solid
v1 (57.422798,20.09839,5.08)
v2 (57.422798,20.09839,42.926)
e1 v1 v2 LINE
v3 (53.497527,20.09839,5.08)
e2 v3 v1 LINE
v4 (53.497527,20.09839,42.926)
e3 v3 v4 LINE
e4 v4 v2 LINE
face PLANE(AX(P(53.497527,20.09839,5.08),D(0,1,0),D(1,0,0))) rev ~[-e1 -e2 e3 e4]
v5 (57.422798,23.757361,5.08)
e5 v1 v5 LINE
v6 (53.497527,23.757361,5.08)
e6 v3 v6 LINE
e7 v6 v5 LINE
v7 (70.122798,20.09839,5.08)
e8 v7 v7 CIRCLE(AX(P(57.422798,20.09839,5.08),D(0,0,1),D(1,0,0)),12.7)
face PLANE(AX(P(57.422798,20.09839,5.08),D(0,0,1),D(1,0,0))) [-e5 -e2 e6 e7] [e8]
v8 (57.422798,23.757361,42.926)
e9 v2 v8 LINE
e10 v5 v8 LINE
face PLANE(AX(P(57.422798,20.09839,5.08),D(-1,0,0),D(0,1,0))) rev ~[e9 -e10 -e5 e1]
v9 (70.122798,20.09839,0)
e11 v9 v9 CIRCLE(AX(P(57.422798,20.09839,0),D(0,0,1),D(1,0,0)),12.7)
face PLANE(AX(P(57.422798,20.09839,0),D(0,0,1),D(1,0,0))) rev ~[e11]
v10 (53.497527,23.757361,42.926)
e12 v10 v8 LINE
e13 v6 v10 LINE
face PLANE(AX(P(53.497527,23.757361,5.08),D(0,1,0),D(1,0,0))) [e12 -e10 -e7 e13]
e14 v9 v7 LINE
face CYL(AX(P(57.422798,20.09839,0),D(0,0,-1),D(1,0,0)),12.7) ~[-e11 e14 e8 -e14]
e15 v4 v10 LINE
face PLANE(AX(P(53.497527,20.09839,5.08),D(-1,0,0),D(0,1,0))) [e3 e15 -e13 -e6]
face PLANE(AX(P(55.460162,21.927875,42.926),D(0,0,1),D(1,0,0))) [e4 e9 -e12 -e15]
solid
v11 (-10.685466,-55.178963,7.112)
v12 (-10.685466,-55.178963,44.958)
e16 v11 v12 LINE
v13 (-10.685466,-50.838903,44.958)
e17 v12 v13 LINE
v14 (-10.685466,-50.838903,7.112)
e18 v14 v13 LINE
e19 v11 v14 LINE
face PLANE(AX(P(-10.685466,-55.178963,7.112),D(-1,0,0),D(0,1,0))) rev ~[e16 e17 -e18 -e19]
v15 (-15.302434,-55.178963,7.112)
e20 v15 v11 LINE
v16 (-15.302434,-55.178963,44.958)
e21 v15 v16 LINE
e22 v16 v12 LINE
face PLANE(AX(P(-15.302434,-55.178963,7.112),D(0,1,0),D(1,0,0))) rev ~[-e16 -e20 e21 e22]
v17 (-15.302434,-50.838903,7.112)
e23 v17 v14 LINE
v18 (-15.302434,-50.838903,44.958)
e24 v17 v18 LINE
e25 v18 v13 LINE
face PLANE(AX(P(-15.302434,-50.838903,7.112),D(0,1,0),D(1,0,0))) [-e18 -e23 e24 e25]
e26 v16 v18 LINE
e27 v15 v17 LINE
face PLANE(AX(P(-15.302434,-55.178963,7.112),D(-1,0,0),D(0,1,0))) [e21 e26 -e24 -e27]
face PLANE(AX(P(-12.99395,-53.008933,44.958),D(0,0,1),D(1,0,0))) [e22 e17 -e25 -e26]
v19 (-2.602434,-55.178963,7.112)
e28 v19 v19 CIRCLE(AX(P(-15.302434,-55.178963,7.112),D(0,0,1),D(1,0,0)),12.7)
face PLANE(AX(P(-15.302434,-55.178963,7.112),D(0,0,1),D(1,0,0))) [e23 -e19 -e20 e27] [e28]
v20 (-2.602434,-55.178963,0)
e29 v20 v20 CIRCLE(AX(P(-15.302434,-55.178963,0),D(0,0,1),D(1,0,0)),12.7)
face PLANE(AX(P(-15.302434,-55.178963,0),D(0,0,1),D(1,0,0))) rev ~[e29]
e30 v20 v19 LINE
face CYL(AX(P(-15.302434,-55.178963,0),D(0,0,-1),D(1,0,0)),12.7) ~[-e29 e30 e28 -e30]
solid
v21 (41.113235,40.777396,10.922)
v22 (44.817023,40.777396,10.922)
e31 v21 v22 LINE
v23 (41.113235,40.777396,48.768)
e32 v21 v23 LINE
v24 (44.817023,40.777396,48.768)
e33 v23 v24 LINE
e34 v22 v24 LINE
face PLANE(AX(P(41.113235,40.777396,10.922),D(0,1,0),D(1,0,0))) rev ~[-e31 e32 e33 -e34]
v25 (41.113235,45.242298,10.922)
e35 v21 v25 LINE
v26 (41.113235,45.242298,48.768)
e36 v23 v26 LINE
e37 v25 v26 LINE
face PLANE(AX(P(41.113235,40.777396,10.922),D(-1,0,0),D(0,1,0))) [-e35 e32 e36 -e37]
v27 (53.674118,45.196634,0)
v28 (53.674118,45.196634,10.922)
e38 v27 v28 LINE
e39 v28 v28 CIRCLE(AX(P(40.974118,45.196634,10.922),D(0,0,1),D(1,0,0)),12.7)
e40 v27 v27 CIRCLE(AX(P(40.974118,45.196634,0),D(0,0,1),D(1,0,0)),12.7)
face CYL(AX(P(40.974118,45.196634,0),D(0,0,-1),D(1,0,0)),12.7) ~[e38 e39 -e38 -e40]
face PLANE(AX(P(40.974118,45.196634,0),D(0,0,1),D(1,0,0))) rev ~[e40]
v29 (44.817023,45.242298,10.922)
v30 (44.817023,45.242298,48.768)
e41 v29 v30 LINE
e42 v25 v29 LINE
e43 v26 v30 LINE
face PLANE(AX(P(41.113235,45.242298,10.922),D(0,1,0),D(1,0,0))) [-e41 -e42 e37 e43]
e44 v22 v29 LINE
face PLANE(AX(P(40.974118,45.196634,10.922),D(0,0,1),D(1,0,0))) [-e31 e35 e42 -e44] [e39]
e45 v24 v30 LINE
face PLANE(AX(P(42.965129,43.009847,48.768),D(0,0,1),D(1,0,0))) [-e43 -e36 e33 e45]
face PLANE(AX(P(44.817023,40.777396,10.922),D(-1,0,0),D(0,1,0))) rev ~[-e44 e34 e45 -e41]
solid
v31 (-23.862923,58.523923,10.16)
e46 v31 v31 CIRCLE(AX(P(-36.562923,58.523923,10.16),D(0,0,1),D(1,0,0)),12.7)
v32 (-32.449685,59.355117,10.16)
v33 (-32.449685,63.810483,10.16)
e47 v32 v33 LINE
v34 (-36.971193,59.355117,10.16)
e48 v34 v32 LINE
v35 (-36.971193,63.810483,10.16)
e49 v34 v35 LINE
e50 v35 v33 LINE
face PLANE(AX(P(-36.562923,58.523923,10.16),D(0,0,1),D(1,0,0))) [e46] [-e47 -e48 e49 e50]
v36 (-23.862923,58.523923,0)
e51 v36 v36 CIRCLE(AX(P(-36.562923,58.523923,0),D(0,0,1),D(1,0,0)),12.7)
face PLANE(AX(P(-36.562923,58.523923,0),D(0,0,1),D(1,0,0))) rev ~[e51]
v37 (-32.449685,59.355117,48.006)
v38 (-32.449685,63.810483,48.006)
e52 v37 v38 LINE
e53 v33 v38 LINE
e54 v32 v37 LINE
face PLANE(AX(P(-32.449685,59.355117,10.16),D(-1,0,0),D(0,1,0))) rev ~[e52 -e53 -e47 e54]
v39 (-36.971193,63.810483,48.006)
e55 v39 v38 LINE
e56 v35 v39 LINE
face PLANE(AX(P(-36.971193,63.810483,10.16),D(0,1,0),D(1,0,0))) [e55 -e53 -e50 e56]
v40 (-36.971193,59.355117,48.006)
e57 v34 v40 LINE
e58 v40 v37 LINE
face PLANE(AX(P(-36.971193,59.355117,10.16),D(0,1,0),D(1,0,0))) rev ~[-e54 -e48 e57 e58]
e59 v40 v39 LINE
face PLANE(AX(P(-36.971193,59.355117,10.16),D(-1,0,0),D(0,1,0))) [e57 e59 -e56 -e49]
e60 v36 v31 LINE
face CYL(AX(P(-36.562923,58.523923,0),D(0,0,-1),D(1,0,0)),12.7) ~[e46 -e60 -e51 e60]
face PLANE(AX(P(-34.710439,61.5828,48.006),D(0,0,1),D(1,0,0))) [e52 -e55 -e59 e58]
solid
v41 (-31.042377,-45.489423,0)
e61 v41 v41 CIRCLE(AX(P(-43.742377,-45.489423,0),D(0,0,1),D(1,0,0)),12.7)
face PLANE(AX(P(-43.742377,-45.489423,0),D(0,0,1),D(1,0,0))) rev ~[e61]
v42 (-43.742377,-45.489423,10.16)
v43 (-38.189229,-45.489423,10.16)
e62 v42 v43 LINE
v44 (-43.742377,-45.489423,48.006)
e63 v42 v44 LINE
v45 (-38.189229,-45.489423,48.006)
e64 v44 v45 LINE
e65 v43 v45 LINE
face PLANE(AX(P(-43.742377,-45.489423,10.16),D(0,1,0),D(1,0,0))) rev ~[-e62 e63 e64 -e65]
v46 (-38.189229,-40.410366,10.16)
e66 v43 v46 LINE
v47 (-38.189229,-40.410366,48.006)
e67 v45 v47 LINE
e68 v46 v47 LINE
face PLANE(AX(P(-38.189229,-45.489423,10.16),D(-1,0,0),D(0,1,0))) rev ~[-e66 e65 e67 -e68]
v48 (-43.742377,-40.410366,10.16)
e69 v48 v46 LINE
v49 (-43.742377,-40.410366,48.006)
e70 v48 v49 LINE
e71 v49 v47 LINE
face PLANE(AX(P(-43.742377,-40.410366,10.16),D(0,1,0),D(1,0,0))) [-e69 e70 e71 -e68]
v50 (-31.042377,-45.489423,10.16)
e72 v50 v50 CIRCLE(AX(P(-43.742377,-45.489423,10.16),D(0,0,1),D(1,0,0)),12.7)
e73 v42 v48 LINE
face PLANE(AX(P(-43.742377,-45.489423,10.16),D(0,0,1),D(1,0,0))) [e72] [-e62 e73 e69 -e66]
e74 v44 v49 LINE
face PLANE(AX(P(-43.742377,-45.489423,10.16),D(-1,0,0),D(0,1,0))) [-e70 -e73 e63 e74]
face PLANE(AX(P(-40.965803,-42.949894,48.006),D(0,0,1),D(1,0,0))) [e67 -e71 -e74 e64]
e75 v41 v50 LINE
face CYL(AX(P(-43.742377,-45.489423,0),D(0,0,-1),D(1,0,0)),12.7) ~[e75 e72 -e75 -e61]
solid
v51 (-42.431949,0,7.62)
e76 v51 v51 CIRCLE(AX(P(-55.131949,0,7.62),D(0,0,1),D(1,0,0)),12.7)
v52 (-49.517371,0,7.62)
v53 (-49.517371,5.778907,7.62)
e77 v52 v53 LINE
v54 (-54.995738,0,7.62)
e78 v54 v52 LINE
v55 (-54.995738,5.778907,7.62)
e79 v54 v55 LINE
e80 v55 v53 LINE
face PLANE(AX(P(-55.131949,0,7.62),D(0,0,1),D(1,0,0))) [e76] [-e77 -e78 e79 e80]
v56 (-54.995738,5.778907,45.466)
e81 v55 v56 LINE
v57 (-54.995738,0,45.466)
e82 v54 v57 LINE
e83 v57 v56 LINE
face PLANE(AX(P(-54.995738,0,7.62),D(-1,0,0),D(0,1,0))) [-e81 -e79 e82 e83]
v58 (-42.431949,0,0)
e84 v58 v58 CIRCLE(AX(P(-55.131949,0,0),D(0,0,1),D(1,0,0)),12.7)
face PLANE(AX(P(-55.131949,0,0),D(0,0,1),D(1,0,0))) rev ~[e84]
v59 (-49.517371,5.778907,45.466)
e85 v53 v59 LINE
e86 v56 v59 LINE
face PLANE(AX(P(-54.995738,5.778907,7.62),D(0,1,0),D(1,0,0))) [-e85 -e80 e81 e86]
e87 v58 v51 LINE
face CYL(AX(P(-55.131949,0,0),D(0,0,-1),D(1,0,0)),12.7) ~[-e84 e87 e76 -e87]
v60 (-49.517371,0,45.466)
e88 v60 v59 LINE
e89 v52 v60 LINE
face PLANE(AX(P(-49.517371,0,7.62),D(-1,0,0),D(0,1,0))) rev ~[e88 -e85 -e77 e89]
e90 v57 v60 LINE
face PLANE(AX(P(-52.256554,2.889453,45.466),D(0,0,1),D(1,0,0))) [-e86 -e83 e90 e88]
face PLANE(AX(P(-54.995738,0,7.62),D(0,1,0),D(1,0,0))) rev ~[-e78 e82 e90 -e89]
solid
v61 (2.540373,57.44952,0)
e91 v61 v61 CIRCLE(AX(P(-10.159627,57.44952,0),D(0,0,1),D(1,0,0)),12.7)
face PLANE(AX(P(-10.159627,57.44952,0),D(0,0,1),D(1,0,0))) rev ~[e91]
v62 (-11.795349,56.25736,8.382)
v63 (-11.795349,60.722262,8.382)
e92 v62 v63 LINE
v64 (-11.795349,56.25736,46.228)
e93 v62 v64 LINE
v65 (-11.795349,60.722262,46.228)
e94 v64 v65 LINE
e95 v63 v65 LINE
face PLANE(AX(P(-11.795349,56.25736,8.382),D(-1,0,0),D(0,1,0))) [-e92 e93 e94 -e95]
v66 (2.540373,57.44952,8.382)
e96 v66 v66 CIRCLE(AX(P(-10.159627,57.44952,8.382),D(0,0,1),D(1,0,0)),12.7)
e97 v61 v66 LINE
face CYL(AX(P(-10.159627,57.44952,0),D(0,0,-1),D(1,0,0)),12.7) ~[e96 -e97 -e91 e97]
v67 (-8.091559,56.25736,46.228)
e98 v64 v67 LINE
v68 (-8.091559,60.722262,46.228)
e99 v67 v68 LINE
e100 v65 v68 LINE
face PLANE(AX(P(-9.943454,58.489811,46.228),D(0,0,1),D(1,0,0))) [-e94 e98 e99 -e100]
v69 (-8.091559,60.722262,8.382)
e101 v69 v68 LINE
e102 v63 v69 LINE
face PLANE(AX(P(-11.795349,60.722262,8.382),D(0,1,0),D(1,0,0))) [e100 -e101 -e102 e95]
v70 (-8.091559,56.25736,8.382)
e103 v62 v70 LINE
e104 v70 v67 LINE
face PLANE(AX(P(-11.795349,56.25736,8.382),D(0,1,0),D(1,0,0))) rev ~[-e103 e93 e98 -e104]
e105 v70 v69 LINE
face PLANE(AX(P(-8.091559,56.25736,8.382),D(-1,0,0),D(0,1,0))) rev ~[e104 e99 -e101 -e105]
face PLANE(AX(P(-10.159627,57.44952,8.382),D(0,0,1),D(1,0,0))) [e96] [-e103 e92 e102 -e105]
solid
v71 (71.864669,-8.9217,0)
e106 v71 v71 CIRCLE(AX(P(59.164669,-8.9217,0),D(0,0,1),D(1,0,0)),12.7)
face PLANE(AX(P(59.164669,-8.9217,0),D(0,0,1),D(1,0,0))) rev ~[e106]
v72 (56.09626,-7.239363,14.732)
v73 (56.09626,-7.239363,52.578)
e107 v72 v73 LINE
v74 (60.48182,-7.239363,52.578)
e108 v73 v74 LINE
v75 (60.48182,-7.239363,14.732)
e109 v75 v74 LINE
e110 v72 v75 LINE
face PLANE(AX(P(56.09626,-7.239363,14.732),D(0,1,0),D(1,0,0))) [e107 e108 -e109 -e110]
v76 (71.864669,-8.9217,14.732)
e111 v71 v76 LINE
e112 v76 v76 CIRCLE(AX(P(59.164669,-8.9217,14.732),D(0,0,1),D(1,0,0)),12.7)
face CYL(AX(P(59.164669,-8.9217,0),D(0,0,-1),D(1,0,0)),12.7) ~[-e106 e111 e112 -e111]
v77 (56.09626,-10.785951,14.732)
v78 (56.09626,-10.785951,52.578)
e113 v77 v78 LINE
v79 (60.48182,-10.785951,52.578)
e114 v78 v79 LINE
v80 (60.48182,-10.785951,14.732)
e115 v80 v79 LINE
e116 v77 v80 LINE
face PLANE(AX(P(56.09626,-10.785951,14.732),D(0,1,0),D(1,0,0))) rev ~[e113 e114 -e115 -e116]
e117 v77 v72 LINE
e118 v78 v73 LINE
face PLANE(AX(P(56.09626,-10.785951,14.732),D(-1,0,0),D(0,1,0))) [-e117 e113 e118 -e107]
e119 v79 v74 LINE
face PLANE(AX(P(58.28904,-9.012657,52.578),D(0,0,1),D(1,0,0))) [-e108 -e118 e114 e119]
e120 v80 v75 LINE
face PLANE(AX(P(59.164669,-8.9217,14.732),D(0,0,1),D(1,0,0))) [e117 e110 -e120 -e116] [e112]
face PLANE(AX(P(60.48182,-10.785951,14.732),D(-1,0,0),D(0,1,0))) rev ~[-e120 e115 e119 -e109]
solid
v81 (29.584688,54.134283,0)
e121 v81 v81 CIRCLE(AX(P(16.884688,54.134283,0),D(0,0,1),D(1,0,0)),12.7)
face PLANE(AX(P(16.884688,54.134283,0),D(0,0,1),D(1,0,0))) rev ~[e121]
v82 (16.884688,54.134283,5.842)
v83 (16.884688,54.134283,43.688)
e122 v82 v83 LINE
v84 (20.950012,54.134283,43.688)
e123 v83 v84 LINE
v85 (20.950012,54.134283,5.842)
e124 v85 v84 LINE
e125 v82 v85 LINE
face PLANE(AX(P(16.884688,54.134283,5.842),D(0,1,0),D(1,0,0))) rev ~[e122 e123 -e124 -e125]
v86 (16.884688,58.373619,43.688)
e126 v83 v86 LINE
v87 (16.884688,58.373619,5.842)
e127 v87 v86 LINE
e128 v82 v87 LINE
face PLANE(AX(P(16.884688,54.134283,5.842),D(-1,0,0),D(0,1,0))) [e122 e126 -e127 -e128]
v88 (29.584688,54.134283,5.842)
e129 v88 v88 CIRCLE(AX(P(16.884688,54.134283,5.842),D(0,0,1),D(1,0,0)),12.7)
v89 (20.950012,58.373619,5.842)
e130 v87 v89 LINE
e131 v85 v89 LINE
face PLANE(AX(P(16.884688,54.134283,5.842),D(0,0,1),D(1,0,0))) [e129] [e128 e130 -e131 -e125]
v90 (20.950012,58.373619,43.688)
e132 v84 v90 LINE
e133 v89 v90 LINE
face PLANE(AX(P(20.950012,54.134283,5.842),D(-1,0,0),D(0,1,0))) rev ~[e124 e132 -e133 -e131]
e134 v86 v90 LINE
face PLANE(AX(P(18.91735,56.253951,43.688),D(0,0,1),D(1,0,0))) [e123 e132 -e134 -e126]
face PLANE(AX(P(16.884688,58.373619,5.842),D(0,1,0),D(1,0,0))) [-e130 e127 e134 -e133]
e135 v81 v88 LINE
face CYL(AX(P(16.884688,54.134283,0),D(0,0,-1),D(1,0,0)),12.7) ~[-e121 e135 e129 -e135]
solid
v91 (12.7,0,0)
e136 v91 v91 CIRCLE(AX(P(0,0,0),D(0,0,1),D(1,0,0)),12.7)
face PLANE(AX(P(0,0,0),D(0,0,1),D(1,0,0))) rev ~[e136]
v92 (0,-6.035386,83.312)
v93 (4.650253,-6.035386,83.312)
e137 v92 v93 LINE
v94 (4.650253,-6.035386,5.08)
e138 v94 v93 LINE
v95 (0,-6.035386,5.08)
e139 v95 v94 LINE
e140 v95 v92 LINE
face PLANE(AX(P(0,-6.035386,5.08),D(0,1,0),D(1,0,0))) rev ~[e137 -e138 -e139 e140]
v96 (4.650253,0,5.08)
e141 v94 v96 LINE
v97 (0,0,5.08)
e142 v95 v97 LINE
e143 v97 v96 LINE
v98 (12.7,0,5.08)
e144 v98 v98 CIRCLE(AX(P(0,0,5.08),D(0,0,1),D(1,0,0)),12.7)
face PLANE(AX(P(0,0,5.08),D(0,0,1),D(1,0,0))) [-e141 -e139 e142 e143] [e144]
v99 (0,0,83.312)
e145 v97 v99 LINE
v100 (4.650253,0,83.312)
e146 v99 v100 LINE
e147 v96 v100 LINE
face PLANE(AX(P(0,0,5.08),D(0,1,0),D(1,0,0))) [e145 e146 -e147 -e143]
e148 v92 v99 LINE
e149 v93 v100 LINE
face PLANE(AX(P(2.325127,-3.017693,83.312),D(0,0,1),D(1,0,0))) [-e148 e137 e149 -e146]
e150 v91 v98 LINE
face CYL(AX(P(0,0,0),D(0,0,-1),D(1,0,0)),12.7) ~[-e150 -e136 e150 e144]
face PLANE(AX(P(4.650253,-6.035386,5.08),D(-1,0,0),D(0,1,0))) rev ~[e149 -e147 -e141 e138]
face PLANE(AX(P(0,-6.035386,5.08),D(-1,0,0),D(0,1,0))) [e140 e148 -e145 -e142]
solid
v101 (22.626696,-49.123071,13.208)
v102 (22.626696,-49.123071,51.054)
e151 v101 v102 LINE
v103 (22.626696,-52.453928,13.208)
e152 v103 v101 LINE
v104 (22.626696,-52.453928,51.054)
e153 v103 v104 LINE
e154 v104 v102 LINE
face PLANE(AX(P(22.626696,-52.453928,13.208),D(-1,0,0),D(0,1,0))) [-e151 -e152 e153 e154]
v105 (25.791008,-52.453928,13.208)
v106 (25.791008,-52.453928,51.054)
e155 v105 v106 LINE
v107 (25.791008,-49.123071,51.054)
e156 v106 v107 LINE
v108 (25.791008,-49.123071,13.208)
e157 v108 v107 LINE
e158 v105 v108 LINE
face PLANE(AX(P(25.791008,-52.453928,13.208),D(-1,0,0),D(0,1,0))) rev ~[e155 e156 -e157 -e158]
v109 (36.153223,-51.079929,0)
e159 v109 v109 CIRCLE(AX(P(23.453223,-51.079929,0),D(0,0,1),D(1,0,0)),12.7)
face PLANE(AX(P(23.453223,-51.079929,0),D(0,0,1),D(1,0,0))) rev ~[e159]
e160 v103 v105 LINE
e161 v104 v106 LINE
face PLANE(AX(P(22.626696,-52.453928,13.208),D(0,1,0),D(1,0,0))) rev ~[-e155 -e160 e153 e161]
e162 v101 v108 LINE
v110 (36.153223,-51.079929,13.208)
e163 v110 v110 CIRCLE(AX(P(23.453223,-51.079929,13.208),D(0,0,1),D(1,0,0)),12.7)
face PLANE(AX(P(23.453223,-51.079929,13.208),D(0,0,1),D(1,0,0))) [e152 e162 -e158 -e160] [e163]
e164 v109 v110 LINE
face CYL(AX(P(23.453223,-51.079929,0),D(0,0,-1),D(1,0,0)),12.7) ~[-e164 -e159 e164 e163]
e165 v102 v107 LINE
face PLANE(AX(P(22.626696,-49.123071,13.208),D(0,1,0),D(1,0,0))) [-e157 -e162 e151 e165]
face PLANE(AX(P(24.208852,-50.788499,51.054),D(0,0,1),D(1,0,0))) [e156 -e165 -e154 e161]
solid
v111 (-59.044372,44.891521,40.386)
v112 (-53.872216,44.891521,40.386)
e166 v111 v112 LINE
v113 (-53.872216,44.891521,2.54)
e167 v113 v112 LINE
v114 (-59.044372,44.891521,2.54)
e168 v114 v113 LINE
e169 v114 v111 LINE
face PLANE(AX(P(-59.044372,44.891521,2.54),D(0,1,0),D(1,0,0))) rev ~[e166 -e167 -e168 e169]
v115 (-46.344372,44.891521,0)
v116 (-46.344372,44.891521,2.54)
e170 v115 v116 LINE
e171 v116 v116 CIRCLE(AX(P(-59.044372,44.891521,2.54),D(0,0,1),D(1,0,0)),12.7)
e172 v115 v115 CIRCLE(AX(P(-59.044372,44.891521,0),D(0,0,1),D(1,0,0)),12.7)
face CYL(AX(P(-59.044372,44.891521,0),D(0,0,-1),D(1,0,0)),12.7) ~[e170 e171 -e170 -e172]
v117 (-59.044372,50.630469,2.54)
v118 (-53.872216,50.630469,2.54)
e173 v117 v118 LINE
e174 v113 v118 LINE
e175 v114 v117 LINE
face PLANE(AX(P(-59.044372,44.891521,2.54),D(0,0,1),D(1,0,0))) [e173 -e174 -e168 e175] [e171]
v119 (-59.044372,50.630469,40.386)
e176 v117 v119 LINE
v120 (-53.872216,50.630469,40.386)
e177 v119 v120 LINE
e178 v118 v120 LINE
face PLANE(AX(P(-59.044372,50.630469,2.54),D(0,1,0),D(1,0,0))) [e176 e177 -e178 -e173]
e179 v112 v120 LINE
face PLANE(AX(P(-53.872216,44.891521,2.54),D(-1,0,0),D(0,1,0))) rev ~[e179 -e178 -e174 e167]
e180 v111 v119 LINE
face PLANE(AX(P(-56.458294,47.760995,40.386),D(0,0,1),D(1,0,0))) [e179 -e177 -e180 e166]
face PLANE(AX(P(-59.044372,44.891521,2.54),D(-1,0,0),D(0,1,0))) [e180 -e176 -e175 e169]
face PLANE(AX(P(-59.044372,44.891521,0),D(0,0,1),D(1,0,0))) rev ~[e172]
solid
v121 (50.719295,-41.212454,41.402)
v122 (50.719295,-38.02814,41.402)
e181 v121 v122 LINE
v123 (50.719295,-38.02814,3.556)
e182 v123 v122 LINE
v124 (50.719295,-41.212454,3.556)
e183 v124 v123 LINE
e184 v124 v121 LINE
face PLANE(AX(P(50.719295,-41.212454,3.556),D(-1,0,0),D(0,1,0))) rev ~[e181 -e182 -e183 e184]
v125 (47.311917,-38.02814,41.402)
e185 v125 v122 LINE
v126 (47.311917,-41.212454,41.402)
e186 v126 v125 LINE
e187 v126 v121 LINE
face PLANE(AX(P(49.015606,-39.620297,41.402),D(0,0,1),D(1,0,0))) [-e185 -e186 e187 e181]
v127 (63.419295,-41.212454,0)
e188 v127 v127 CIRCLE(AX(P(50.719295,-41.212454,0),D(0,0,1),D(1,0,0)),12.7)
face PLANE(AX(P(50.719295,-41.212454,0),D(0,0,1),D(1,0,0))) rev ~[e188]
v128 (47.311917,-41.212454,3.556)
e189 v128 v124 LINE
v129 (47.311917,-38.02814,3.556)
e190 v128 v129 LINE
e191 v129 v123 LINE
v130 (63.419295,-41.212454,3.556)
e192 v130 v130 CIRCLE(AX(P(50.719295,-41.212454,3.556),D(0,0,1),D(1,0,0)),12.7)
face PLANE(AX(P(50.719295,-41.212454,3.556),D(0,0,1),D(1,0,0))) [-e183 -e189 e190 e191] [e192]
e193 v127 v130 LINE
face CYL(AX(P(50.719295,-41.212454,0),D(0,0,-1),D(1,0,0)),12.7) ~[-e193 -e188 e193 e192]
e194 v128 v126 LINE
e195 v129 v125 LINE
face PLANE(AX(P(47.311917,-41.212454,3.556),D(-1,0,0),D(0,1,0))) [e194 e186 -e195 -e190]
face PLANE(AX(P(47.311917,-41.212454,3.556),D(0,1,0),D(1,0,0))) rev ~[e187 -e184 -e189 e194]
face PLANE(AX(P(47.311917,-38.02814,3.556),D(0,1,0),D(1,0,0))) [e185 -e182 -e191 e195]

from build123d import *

# Parameters (mm, degrees)
F1_R      = 12.7
F2_DEPTH  = 5.08
F3_R      = 12.7
F4_DEPTH  = 7.62
F5_R      = 12.7
F6_DEPTH  = 10.16
F7_R      = 12.7
F8_DEPTH  = 2.54
F9_R      = 12.7
F10_DEPTH = 10.16
F11_R     = 12.7
F12_DEPTH = 8.382
F13_R     = 12.7
F14_DEPTH = 5.842
F15_R     = 12.7
F16_DEPTH = 10.922
F17_R     = 12.7
F18_DEPTH = 5.08
F19_R     = 12.7
F20_DEPTH = 14.732
F21_R     = 12.7
F22_DEPTH = 3.556
F23_R     = 12.7
F24_DEPTH = 13.208
F25_R     = 12.7
F26_DEPTH = 7.112
F28_W     = 4.6502533369
F28_H     = 6.035386119
F29_DEPTH = 78.232
F30_W     = 5.5531486869
F30_H     = 5.0790570676
F31_DEPTH = 37.846
F33_W     = 5.4783672094
F33_H     = 5.7789068669
F34_DEPTH = 37.846
F35_W     = 5.1721557975
F35_H     = 5.7389475405
F36_DEPTH = 37.846
F37_W     = 4.5215077698
F37_H     = 4.4553652406
F38_DEPTH = 37.846
F39_W     = 3.7037907168
F39_H     = 4.4649019837
F40_DEPTH = 37.846
F41_W     = 4.065323621
F41_H     = 4.2393356562
F42_DEPTH = 37.846
F43_W     = 3.7037879229
F43_H     = 4.4649019837
F44_DEPTH = 37.846
F45_W     = 3.9252713323
F45_H     = 3.6589708179
F46_DEPTH = 37.846
F47_W     = 4.385560751
F47_H     = 3.5465881228
F48_DEPTH = 37.846
F49_W     = 3.4073777497
F49_H     = 3.1843148172
F50_DEPTH = 37.846
F51_W     = 3.1643118709
F51_H     = 3.3308565617
F52_DEPTH = 37.846
F53_W     = 4.6169674024
F53_H     = 4.3400600553
F54_DEPTH = 37.846


with BuildPart() as f2:
    # F1 (on face) → F2 (new body)
    with BuildSketch(Plane.XY):
        Circle(F1_R)
    extrude(amount=F2_DEPTH)

    # F28 (on face) → F29 (join)
    with BuildSketch(Plane.XY.offset(5.08)):
        with Locations((2.3251266684, -3.0176930595)):
            Rectangle(F28_W, F28_H)
    extrude(amount=F29_DEPTH)


with BuildPart() as f4:
    # F3 (on Top) → F4 (new body)
    with BuildSketch(Plane.XY):
        with Locations((-55.1319494843, 0)):
            Circle(F3_R)
    extrude(amount=F4_DEPTH)

    # F33 (on face) → F34 (join)
    with BuildSketch(Plane.XY.offset(7.62)):
        with Locations((-52.2565543652, 2.8894534335)):
            Rectangle(F33_W, F33_H)
    extrude(amount=F34_DEPTH)


with BuildPart() as f6:
    # F5 (on Top) → F6 (new body)
    with BuildSketch(Plane.XY):
        with Locations((-43.742377311, -45.489422977)):
            Circle(F5_R)
    extrude(amount=F6_DEPTH)

    # F30 (on face) → F31 (join)
    with BuildSketch(Plane.XY.offset(10.16)):
        with Locations((-40.9658029675, -42.9498944432)):
            Rectangle(F30_W, F30_H)
    extrude(amount=F31_DEPTH)


with BuildPart() as f8:
    # F7 (on Top) → F8 (new body)
    with BuildSketch(Plane.XY):
        with Locations((-59.0443722904, 44.8915213346)):
            Circle(F7_R)
    extrude(amount=F8_DEPTH)

    # F35 (on face) → F36 (join)
    with BuildSketch(Plane.XY.offset(2.54)):
        with Locations((-56.4582943916, 47.7609951049)):
            Rectangle(F35_W, F35_H)
    extrude(amount=F36_DEPTH)


with BuildPart() as f10:
    # F9 (on Top) → F10 (new body)
    with BuildSketch(Plane.XY):
        with Locations((-36.562923342, 58.5239231586)):
            Circle(F9_R)
    extrude(amount=F10_DEPTH)

    # F37 (on face) → F38 (join)
    with BuildSketch(Plane.XY.offset(10.16)):
        with Locations((-34.710438922, 61.5828000009)):
            Rectangle(F37_W, F37_H)
    extrude(amount=F38_DEPTH)


with BuildPart() as f12:
    # F11 (on Top) → F12 (new body)
    with BuildSketch(Plane.XY):
        with Locations((-10.1596266031, 57.4495196342)):
            Circle(F11_R)
    extrude(amount=F12_DEPTH)

    # F39 (on face) → F40 (join)
    with BuildSketch(Plane.XY.offset(8.382)):
        with Locations((-9.9434540607, 58.4898106754)):
            Rectangle(F39_W, F39_H)
    extrude(amount=F40_DEPTH)


with BuildPart() as f14:
    # F13 (on Top) → F14 (new body)
    with BuildSketch(Plane.XY):
        with Locations((16.884688288, 54.1342832148)):
            Circle(F13_R)
    extrude(amount=F14_DEPTH)

    # F41 (on face) → F42 (join)
    with BuildSketch(Plane.XY.offset(5.842)):
        with Locations((18.9173500985, 56.2539510429)):
            Rectangle(F41_W, F41_H)
    extrude(amount=F42_DEPTH)


with BuildPart() as f16:
    # F15 (on Top) → F16 (new body)
    with BuildSketch(Plane.XY):
        with Locations((40.9741178155, 45.196633786)):
            Circle(F15_R)
    extrude(amount=F16_DEPTH)

    # F43 (on face) → F44 (join)
    with BuildSketch(Plane.XY.offset(10.922)):
        with Locations((42.9651290178, 43.0098474026)):
            Rectangle(F43_W, F43_H)
    extrude(amount=F44_DEPTH)


with BuildPart() as f18:
    # F17 (on Top) → F18 (new body)
    with BuildSketch(Plane.XY):
        with Locations((57.4227981269, 20.0983900577)):
            Circle(F17_R)
    extrude(amount=F18_DEPTH)

    # F45 (on face) → F46 (join)
    with BuildSketch(Plane.XY.offset(5.08)):
        with Locations((55.4601624608, 21.9278754666)):
            Rectangle(F45_W, F45_H)
    extrude(amount=F46_DEPTH)


with BuildPart() as f20:
    # F19 (on Top) → F20 (new body)
    with BuildSketch(Plane.XY):
        with Locations((59.1646693647, -8.9216995984)):
            Circle(F19_R)
    extrude(amount=F20_DEPTH)

    # F47 (on face) → F48 (join)
    with BuildSketch(Plane.XY.offset(14.732)):
        with Locations((58.28903988, -9.0126572177)):
            Rectangle(F47_W, F47_H)
    extrude(amount=F48_DEPTH)


with BuildPart() as f22:
    # F21 (on Top) → F22 (new body)
    with BuildSketch(Plane.XY):
        with Locations((50.719294697, -41.2124544382)):
            Circle(F21_R)
    extrude(amount=F22_DEPTH)

    # F49 (on face) → F50 (join)
    with BuildSketch(Plane.XY.offset(3.556)):
        with Locations((49.0156058222, -39.6202970296)):
            Rectangle(F49_W, F49_H)
    extrude(amount=F50_DEPTH)


with BuildPart() as f24:
    # F23 (on Top) → F24 (new body)
    with BuildSketch(Plane.XY):
        with Locations((23.4532225877, -51.079928875)):
            Circle(F23_R)
    extrude(amount=F24_DEPTH)

    # F51 (on face) → F52 (join)
    with BuildSketch(Plane.XY.offset(13.208)):
        with Locations((24.2088520899, -50.7884994149)):
            Rectangle(F51_W, F51_H)
    extrude(amount=F52_DEPTH)


with BuildPart() as f26:
    # F25 (on Top) → F26 (new body)
    with BuildSketch(Plane.XY):
        with Locations((-15.3024336323, -55.1789626479)):
            Circle(F25_R)
    extrude(amount=F26_DEPTH)

    # F53 (on face) → F54 (join)
    with BuildSketch(Plane.XY.offset(7.112)):
        with Locations((-12.9939499311, -53.0089326203)):
            Rectangle(F53_W, F53_H)
    extrude(amount=F54_DEPTH)


solid = Compound([f2.part, f4.part, f6.part, f8.part, f10.part, f12.part, f14.part, f16.part, f18.part, f20.part, f22.part, f24.part, f26.part])
